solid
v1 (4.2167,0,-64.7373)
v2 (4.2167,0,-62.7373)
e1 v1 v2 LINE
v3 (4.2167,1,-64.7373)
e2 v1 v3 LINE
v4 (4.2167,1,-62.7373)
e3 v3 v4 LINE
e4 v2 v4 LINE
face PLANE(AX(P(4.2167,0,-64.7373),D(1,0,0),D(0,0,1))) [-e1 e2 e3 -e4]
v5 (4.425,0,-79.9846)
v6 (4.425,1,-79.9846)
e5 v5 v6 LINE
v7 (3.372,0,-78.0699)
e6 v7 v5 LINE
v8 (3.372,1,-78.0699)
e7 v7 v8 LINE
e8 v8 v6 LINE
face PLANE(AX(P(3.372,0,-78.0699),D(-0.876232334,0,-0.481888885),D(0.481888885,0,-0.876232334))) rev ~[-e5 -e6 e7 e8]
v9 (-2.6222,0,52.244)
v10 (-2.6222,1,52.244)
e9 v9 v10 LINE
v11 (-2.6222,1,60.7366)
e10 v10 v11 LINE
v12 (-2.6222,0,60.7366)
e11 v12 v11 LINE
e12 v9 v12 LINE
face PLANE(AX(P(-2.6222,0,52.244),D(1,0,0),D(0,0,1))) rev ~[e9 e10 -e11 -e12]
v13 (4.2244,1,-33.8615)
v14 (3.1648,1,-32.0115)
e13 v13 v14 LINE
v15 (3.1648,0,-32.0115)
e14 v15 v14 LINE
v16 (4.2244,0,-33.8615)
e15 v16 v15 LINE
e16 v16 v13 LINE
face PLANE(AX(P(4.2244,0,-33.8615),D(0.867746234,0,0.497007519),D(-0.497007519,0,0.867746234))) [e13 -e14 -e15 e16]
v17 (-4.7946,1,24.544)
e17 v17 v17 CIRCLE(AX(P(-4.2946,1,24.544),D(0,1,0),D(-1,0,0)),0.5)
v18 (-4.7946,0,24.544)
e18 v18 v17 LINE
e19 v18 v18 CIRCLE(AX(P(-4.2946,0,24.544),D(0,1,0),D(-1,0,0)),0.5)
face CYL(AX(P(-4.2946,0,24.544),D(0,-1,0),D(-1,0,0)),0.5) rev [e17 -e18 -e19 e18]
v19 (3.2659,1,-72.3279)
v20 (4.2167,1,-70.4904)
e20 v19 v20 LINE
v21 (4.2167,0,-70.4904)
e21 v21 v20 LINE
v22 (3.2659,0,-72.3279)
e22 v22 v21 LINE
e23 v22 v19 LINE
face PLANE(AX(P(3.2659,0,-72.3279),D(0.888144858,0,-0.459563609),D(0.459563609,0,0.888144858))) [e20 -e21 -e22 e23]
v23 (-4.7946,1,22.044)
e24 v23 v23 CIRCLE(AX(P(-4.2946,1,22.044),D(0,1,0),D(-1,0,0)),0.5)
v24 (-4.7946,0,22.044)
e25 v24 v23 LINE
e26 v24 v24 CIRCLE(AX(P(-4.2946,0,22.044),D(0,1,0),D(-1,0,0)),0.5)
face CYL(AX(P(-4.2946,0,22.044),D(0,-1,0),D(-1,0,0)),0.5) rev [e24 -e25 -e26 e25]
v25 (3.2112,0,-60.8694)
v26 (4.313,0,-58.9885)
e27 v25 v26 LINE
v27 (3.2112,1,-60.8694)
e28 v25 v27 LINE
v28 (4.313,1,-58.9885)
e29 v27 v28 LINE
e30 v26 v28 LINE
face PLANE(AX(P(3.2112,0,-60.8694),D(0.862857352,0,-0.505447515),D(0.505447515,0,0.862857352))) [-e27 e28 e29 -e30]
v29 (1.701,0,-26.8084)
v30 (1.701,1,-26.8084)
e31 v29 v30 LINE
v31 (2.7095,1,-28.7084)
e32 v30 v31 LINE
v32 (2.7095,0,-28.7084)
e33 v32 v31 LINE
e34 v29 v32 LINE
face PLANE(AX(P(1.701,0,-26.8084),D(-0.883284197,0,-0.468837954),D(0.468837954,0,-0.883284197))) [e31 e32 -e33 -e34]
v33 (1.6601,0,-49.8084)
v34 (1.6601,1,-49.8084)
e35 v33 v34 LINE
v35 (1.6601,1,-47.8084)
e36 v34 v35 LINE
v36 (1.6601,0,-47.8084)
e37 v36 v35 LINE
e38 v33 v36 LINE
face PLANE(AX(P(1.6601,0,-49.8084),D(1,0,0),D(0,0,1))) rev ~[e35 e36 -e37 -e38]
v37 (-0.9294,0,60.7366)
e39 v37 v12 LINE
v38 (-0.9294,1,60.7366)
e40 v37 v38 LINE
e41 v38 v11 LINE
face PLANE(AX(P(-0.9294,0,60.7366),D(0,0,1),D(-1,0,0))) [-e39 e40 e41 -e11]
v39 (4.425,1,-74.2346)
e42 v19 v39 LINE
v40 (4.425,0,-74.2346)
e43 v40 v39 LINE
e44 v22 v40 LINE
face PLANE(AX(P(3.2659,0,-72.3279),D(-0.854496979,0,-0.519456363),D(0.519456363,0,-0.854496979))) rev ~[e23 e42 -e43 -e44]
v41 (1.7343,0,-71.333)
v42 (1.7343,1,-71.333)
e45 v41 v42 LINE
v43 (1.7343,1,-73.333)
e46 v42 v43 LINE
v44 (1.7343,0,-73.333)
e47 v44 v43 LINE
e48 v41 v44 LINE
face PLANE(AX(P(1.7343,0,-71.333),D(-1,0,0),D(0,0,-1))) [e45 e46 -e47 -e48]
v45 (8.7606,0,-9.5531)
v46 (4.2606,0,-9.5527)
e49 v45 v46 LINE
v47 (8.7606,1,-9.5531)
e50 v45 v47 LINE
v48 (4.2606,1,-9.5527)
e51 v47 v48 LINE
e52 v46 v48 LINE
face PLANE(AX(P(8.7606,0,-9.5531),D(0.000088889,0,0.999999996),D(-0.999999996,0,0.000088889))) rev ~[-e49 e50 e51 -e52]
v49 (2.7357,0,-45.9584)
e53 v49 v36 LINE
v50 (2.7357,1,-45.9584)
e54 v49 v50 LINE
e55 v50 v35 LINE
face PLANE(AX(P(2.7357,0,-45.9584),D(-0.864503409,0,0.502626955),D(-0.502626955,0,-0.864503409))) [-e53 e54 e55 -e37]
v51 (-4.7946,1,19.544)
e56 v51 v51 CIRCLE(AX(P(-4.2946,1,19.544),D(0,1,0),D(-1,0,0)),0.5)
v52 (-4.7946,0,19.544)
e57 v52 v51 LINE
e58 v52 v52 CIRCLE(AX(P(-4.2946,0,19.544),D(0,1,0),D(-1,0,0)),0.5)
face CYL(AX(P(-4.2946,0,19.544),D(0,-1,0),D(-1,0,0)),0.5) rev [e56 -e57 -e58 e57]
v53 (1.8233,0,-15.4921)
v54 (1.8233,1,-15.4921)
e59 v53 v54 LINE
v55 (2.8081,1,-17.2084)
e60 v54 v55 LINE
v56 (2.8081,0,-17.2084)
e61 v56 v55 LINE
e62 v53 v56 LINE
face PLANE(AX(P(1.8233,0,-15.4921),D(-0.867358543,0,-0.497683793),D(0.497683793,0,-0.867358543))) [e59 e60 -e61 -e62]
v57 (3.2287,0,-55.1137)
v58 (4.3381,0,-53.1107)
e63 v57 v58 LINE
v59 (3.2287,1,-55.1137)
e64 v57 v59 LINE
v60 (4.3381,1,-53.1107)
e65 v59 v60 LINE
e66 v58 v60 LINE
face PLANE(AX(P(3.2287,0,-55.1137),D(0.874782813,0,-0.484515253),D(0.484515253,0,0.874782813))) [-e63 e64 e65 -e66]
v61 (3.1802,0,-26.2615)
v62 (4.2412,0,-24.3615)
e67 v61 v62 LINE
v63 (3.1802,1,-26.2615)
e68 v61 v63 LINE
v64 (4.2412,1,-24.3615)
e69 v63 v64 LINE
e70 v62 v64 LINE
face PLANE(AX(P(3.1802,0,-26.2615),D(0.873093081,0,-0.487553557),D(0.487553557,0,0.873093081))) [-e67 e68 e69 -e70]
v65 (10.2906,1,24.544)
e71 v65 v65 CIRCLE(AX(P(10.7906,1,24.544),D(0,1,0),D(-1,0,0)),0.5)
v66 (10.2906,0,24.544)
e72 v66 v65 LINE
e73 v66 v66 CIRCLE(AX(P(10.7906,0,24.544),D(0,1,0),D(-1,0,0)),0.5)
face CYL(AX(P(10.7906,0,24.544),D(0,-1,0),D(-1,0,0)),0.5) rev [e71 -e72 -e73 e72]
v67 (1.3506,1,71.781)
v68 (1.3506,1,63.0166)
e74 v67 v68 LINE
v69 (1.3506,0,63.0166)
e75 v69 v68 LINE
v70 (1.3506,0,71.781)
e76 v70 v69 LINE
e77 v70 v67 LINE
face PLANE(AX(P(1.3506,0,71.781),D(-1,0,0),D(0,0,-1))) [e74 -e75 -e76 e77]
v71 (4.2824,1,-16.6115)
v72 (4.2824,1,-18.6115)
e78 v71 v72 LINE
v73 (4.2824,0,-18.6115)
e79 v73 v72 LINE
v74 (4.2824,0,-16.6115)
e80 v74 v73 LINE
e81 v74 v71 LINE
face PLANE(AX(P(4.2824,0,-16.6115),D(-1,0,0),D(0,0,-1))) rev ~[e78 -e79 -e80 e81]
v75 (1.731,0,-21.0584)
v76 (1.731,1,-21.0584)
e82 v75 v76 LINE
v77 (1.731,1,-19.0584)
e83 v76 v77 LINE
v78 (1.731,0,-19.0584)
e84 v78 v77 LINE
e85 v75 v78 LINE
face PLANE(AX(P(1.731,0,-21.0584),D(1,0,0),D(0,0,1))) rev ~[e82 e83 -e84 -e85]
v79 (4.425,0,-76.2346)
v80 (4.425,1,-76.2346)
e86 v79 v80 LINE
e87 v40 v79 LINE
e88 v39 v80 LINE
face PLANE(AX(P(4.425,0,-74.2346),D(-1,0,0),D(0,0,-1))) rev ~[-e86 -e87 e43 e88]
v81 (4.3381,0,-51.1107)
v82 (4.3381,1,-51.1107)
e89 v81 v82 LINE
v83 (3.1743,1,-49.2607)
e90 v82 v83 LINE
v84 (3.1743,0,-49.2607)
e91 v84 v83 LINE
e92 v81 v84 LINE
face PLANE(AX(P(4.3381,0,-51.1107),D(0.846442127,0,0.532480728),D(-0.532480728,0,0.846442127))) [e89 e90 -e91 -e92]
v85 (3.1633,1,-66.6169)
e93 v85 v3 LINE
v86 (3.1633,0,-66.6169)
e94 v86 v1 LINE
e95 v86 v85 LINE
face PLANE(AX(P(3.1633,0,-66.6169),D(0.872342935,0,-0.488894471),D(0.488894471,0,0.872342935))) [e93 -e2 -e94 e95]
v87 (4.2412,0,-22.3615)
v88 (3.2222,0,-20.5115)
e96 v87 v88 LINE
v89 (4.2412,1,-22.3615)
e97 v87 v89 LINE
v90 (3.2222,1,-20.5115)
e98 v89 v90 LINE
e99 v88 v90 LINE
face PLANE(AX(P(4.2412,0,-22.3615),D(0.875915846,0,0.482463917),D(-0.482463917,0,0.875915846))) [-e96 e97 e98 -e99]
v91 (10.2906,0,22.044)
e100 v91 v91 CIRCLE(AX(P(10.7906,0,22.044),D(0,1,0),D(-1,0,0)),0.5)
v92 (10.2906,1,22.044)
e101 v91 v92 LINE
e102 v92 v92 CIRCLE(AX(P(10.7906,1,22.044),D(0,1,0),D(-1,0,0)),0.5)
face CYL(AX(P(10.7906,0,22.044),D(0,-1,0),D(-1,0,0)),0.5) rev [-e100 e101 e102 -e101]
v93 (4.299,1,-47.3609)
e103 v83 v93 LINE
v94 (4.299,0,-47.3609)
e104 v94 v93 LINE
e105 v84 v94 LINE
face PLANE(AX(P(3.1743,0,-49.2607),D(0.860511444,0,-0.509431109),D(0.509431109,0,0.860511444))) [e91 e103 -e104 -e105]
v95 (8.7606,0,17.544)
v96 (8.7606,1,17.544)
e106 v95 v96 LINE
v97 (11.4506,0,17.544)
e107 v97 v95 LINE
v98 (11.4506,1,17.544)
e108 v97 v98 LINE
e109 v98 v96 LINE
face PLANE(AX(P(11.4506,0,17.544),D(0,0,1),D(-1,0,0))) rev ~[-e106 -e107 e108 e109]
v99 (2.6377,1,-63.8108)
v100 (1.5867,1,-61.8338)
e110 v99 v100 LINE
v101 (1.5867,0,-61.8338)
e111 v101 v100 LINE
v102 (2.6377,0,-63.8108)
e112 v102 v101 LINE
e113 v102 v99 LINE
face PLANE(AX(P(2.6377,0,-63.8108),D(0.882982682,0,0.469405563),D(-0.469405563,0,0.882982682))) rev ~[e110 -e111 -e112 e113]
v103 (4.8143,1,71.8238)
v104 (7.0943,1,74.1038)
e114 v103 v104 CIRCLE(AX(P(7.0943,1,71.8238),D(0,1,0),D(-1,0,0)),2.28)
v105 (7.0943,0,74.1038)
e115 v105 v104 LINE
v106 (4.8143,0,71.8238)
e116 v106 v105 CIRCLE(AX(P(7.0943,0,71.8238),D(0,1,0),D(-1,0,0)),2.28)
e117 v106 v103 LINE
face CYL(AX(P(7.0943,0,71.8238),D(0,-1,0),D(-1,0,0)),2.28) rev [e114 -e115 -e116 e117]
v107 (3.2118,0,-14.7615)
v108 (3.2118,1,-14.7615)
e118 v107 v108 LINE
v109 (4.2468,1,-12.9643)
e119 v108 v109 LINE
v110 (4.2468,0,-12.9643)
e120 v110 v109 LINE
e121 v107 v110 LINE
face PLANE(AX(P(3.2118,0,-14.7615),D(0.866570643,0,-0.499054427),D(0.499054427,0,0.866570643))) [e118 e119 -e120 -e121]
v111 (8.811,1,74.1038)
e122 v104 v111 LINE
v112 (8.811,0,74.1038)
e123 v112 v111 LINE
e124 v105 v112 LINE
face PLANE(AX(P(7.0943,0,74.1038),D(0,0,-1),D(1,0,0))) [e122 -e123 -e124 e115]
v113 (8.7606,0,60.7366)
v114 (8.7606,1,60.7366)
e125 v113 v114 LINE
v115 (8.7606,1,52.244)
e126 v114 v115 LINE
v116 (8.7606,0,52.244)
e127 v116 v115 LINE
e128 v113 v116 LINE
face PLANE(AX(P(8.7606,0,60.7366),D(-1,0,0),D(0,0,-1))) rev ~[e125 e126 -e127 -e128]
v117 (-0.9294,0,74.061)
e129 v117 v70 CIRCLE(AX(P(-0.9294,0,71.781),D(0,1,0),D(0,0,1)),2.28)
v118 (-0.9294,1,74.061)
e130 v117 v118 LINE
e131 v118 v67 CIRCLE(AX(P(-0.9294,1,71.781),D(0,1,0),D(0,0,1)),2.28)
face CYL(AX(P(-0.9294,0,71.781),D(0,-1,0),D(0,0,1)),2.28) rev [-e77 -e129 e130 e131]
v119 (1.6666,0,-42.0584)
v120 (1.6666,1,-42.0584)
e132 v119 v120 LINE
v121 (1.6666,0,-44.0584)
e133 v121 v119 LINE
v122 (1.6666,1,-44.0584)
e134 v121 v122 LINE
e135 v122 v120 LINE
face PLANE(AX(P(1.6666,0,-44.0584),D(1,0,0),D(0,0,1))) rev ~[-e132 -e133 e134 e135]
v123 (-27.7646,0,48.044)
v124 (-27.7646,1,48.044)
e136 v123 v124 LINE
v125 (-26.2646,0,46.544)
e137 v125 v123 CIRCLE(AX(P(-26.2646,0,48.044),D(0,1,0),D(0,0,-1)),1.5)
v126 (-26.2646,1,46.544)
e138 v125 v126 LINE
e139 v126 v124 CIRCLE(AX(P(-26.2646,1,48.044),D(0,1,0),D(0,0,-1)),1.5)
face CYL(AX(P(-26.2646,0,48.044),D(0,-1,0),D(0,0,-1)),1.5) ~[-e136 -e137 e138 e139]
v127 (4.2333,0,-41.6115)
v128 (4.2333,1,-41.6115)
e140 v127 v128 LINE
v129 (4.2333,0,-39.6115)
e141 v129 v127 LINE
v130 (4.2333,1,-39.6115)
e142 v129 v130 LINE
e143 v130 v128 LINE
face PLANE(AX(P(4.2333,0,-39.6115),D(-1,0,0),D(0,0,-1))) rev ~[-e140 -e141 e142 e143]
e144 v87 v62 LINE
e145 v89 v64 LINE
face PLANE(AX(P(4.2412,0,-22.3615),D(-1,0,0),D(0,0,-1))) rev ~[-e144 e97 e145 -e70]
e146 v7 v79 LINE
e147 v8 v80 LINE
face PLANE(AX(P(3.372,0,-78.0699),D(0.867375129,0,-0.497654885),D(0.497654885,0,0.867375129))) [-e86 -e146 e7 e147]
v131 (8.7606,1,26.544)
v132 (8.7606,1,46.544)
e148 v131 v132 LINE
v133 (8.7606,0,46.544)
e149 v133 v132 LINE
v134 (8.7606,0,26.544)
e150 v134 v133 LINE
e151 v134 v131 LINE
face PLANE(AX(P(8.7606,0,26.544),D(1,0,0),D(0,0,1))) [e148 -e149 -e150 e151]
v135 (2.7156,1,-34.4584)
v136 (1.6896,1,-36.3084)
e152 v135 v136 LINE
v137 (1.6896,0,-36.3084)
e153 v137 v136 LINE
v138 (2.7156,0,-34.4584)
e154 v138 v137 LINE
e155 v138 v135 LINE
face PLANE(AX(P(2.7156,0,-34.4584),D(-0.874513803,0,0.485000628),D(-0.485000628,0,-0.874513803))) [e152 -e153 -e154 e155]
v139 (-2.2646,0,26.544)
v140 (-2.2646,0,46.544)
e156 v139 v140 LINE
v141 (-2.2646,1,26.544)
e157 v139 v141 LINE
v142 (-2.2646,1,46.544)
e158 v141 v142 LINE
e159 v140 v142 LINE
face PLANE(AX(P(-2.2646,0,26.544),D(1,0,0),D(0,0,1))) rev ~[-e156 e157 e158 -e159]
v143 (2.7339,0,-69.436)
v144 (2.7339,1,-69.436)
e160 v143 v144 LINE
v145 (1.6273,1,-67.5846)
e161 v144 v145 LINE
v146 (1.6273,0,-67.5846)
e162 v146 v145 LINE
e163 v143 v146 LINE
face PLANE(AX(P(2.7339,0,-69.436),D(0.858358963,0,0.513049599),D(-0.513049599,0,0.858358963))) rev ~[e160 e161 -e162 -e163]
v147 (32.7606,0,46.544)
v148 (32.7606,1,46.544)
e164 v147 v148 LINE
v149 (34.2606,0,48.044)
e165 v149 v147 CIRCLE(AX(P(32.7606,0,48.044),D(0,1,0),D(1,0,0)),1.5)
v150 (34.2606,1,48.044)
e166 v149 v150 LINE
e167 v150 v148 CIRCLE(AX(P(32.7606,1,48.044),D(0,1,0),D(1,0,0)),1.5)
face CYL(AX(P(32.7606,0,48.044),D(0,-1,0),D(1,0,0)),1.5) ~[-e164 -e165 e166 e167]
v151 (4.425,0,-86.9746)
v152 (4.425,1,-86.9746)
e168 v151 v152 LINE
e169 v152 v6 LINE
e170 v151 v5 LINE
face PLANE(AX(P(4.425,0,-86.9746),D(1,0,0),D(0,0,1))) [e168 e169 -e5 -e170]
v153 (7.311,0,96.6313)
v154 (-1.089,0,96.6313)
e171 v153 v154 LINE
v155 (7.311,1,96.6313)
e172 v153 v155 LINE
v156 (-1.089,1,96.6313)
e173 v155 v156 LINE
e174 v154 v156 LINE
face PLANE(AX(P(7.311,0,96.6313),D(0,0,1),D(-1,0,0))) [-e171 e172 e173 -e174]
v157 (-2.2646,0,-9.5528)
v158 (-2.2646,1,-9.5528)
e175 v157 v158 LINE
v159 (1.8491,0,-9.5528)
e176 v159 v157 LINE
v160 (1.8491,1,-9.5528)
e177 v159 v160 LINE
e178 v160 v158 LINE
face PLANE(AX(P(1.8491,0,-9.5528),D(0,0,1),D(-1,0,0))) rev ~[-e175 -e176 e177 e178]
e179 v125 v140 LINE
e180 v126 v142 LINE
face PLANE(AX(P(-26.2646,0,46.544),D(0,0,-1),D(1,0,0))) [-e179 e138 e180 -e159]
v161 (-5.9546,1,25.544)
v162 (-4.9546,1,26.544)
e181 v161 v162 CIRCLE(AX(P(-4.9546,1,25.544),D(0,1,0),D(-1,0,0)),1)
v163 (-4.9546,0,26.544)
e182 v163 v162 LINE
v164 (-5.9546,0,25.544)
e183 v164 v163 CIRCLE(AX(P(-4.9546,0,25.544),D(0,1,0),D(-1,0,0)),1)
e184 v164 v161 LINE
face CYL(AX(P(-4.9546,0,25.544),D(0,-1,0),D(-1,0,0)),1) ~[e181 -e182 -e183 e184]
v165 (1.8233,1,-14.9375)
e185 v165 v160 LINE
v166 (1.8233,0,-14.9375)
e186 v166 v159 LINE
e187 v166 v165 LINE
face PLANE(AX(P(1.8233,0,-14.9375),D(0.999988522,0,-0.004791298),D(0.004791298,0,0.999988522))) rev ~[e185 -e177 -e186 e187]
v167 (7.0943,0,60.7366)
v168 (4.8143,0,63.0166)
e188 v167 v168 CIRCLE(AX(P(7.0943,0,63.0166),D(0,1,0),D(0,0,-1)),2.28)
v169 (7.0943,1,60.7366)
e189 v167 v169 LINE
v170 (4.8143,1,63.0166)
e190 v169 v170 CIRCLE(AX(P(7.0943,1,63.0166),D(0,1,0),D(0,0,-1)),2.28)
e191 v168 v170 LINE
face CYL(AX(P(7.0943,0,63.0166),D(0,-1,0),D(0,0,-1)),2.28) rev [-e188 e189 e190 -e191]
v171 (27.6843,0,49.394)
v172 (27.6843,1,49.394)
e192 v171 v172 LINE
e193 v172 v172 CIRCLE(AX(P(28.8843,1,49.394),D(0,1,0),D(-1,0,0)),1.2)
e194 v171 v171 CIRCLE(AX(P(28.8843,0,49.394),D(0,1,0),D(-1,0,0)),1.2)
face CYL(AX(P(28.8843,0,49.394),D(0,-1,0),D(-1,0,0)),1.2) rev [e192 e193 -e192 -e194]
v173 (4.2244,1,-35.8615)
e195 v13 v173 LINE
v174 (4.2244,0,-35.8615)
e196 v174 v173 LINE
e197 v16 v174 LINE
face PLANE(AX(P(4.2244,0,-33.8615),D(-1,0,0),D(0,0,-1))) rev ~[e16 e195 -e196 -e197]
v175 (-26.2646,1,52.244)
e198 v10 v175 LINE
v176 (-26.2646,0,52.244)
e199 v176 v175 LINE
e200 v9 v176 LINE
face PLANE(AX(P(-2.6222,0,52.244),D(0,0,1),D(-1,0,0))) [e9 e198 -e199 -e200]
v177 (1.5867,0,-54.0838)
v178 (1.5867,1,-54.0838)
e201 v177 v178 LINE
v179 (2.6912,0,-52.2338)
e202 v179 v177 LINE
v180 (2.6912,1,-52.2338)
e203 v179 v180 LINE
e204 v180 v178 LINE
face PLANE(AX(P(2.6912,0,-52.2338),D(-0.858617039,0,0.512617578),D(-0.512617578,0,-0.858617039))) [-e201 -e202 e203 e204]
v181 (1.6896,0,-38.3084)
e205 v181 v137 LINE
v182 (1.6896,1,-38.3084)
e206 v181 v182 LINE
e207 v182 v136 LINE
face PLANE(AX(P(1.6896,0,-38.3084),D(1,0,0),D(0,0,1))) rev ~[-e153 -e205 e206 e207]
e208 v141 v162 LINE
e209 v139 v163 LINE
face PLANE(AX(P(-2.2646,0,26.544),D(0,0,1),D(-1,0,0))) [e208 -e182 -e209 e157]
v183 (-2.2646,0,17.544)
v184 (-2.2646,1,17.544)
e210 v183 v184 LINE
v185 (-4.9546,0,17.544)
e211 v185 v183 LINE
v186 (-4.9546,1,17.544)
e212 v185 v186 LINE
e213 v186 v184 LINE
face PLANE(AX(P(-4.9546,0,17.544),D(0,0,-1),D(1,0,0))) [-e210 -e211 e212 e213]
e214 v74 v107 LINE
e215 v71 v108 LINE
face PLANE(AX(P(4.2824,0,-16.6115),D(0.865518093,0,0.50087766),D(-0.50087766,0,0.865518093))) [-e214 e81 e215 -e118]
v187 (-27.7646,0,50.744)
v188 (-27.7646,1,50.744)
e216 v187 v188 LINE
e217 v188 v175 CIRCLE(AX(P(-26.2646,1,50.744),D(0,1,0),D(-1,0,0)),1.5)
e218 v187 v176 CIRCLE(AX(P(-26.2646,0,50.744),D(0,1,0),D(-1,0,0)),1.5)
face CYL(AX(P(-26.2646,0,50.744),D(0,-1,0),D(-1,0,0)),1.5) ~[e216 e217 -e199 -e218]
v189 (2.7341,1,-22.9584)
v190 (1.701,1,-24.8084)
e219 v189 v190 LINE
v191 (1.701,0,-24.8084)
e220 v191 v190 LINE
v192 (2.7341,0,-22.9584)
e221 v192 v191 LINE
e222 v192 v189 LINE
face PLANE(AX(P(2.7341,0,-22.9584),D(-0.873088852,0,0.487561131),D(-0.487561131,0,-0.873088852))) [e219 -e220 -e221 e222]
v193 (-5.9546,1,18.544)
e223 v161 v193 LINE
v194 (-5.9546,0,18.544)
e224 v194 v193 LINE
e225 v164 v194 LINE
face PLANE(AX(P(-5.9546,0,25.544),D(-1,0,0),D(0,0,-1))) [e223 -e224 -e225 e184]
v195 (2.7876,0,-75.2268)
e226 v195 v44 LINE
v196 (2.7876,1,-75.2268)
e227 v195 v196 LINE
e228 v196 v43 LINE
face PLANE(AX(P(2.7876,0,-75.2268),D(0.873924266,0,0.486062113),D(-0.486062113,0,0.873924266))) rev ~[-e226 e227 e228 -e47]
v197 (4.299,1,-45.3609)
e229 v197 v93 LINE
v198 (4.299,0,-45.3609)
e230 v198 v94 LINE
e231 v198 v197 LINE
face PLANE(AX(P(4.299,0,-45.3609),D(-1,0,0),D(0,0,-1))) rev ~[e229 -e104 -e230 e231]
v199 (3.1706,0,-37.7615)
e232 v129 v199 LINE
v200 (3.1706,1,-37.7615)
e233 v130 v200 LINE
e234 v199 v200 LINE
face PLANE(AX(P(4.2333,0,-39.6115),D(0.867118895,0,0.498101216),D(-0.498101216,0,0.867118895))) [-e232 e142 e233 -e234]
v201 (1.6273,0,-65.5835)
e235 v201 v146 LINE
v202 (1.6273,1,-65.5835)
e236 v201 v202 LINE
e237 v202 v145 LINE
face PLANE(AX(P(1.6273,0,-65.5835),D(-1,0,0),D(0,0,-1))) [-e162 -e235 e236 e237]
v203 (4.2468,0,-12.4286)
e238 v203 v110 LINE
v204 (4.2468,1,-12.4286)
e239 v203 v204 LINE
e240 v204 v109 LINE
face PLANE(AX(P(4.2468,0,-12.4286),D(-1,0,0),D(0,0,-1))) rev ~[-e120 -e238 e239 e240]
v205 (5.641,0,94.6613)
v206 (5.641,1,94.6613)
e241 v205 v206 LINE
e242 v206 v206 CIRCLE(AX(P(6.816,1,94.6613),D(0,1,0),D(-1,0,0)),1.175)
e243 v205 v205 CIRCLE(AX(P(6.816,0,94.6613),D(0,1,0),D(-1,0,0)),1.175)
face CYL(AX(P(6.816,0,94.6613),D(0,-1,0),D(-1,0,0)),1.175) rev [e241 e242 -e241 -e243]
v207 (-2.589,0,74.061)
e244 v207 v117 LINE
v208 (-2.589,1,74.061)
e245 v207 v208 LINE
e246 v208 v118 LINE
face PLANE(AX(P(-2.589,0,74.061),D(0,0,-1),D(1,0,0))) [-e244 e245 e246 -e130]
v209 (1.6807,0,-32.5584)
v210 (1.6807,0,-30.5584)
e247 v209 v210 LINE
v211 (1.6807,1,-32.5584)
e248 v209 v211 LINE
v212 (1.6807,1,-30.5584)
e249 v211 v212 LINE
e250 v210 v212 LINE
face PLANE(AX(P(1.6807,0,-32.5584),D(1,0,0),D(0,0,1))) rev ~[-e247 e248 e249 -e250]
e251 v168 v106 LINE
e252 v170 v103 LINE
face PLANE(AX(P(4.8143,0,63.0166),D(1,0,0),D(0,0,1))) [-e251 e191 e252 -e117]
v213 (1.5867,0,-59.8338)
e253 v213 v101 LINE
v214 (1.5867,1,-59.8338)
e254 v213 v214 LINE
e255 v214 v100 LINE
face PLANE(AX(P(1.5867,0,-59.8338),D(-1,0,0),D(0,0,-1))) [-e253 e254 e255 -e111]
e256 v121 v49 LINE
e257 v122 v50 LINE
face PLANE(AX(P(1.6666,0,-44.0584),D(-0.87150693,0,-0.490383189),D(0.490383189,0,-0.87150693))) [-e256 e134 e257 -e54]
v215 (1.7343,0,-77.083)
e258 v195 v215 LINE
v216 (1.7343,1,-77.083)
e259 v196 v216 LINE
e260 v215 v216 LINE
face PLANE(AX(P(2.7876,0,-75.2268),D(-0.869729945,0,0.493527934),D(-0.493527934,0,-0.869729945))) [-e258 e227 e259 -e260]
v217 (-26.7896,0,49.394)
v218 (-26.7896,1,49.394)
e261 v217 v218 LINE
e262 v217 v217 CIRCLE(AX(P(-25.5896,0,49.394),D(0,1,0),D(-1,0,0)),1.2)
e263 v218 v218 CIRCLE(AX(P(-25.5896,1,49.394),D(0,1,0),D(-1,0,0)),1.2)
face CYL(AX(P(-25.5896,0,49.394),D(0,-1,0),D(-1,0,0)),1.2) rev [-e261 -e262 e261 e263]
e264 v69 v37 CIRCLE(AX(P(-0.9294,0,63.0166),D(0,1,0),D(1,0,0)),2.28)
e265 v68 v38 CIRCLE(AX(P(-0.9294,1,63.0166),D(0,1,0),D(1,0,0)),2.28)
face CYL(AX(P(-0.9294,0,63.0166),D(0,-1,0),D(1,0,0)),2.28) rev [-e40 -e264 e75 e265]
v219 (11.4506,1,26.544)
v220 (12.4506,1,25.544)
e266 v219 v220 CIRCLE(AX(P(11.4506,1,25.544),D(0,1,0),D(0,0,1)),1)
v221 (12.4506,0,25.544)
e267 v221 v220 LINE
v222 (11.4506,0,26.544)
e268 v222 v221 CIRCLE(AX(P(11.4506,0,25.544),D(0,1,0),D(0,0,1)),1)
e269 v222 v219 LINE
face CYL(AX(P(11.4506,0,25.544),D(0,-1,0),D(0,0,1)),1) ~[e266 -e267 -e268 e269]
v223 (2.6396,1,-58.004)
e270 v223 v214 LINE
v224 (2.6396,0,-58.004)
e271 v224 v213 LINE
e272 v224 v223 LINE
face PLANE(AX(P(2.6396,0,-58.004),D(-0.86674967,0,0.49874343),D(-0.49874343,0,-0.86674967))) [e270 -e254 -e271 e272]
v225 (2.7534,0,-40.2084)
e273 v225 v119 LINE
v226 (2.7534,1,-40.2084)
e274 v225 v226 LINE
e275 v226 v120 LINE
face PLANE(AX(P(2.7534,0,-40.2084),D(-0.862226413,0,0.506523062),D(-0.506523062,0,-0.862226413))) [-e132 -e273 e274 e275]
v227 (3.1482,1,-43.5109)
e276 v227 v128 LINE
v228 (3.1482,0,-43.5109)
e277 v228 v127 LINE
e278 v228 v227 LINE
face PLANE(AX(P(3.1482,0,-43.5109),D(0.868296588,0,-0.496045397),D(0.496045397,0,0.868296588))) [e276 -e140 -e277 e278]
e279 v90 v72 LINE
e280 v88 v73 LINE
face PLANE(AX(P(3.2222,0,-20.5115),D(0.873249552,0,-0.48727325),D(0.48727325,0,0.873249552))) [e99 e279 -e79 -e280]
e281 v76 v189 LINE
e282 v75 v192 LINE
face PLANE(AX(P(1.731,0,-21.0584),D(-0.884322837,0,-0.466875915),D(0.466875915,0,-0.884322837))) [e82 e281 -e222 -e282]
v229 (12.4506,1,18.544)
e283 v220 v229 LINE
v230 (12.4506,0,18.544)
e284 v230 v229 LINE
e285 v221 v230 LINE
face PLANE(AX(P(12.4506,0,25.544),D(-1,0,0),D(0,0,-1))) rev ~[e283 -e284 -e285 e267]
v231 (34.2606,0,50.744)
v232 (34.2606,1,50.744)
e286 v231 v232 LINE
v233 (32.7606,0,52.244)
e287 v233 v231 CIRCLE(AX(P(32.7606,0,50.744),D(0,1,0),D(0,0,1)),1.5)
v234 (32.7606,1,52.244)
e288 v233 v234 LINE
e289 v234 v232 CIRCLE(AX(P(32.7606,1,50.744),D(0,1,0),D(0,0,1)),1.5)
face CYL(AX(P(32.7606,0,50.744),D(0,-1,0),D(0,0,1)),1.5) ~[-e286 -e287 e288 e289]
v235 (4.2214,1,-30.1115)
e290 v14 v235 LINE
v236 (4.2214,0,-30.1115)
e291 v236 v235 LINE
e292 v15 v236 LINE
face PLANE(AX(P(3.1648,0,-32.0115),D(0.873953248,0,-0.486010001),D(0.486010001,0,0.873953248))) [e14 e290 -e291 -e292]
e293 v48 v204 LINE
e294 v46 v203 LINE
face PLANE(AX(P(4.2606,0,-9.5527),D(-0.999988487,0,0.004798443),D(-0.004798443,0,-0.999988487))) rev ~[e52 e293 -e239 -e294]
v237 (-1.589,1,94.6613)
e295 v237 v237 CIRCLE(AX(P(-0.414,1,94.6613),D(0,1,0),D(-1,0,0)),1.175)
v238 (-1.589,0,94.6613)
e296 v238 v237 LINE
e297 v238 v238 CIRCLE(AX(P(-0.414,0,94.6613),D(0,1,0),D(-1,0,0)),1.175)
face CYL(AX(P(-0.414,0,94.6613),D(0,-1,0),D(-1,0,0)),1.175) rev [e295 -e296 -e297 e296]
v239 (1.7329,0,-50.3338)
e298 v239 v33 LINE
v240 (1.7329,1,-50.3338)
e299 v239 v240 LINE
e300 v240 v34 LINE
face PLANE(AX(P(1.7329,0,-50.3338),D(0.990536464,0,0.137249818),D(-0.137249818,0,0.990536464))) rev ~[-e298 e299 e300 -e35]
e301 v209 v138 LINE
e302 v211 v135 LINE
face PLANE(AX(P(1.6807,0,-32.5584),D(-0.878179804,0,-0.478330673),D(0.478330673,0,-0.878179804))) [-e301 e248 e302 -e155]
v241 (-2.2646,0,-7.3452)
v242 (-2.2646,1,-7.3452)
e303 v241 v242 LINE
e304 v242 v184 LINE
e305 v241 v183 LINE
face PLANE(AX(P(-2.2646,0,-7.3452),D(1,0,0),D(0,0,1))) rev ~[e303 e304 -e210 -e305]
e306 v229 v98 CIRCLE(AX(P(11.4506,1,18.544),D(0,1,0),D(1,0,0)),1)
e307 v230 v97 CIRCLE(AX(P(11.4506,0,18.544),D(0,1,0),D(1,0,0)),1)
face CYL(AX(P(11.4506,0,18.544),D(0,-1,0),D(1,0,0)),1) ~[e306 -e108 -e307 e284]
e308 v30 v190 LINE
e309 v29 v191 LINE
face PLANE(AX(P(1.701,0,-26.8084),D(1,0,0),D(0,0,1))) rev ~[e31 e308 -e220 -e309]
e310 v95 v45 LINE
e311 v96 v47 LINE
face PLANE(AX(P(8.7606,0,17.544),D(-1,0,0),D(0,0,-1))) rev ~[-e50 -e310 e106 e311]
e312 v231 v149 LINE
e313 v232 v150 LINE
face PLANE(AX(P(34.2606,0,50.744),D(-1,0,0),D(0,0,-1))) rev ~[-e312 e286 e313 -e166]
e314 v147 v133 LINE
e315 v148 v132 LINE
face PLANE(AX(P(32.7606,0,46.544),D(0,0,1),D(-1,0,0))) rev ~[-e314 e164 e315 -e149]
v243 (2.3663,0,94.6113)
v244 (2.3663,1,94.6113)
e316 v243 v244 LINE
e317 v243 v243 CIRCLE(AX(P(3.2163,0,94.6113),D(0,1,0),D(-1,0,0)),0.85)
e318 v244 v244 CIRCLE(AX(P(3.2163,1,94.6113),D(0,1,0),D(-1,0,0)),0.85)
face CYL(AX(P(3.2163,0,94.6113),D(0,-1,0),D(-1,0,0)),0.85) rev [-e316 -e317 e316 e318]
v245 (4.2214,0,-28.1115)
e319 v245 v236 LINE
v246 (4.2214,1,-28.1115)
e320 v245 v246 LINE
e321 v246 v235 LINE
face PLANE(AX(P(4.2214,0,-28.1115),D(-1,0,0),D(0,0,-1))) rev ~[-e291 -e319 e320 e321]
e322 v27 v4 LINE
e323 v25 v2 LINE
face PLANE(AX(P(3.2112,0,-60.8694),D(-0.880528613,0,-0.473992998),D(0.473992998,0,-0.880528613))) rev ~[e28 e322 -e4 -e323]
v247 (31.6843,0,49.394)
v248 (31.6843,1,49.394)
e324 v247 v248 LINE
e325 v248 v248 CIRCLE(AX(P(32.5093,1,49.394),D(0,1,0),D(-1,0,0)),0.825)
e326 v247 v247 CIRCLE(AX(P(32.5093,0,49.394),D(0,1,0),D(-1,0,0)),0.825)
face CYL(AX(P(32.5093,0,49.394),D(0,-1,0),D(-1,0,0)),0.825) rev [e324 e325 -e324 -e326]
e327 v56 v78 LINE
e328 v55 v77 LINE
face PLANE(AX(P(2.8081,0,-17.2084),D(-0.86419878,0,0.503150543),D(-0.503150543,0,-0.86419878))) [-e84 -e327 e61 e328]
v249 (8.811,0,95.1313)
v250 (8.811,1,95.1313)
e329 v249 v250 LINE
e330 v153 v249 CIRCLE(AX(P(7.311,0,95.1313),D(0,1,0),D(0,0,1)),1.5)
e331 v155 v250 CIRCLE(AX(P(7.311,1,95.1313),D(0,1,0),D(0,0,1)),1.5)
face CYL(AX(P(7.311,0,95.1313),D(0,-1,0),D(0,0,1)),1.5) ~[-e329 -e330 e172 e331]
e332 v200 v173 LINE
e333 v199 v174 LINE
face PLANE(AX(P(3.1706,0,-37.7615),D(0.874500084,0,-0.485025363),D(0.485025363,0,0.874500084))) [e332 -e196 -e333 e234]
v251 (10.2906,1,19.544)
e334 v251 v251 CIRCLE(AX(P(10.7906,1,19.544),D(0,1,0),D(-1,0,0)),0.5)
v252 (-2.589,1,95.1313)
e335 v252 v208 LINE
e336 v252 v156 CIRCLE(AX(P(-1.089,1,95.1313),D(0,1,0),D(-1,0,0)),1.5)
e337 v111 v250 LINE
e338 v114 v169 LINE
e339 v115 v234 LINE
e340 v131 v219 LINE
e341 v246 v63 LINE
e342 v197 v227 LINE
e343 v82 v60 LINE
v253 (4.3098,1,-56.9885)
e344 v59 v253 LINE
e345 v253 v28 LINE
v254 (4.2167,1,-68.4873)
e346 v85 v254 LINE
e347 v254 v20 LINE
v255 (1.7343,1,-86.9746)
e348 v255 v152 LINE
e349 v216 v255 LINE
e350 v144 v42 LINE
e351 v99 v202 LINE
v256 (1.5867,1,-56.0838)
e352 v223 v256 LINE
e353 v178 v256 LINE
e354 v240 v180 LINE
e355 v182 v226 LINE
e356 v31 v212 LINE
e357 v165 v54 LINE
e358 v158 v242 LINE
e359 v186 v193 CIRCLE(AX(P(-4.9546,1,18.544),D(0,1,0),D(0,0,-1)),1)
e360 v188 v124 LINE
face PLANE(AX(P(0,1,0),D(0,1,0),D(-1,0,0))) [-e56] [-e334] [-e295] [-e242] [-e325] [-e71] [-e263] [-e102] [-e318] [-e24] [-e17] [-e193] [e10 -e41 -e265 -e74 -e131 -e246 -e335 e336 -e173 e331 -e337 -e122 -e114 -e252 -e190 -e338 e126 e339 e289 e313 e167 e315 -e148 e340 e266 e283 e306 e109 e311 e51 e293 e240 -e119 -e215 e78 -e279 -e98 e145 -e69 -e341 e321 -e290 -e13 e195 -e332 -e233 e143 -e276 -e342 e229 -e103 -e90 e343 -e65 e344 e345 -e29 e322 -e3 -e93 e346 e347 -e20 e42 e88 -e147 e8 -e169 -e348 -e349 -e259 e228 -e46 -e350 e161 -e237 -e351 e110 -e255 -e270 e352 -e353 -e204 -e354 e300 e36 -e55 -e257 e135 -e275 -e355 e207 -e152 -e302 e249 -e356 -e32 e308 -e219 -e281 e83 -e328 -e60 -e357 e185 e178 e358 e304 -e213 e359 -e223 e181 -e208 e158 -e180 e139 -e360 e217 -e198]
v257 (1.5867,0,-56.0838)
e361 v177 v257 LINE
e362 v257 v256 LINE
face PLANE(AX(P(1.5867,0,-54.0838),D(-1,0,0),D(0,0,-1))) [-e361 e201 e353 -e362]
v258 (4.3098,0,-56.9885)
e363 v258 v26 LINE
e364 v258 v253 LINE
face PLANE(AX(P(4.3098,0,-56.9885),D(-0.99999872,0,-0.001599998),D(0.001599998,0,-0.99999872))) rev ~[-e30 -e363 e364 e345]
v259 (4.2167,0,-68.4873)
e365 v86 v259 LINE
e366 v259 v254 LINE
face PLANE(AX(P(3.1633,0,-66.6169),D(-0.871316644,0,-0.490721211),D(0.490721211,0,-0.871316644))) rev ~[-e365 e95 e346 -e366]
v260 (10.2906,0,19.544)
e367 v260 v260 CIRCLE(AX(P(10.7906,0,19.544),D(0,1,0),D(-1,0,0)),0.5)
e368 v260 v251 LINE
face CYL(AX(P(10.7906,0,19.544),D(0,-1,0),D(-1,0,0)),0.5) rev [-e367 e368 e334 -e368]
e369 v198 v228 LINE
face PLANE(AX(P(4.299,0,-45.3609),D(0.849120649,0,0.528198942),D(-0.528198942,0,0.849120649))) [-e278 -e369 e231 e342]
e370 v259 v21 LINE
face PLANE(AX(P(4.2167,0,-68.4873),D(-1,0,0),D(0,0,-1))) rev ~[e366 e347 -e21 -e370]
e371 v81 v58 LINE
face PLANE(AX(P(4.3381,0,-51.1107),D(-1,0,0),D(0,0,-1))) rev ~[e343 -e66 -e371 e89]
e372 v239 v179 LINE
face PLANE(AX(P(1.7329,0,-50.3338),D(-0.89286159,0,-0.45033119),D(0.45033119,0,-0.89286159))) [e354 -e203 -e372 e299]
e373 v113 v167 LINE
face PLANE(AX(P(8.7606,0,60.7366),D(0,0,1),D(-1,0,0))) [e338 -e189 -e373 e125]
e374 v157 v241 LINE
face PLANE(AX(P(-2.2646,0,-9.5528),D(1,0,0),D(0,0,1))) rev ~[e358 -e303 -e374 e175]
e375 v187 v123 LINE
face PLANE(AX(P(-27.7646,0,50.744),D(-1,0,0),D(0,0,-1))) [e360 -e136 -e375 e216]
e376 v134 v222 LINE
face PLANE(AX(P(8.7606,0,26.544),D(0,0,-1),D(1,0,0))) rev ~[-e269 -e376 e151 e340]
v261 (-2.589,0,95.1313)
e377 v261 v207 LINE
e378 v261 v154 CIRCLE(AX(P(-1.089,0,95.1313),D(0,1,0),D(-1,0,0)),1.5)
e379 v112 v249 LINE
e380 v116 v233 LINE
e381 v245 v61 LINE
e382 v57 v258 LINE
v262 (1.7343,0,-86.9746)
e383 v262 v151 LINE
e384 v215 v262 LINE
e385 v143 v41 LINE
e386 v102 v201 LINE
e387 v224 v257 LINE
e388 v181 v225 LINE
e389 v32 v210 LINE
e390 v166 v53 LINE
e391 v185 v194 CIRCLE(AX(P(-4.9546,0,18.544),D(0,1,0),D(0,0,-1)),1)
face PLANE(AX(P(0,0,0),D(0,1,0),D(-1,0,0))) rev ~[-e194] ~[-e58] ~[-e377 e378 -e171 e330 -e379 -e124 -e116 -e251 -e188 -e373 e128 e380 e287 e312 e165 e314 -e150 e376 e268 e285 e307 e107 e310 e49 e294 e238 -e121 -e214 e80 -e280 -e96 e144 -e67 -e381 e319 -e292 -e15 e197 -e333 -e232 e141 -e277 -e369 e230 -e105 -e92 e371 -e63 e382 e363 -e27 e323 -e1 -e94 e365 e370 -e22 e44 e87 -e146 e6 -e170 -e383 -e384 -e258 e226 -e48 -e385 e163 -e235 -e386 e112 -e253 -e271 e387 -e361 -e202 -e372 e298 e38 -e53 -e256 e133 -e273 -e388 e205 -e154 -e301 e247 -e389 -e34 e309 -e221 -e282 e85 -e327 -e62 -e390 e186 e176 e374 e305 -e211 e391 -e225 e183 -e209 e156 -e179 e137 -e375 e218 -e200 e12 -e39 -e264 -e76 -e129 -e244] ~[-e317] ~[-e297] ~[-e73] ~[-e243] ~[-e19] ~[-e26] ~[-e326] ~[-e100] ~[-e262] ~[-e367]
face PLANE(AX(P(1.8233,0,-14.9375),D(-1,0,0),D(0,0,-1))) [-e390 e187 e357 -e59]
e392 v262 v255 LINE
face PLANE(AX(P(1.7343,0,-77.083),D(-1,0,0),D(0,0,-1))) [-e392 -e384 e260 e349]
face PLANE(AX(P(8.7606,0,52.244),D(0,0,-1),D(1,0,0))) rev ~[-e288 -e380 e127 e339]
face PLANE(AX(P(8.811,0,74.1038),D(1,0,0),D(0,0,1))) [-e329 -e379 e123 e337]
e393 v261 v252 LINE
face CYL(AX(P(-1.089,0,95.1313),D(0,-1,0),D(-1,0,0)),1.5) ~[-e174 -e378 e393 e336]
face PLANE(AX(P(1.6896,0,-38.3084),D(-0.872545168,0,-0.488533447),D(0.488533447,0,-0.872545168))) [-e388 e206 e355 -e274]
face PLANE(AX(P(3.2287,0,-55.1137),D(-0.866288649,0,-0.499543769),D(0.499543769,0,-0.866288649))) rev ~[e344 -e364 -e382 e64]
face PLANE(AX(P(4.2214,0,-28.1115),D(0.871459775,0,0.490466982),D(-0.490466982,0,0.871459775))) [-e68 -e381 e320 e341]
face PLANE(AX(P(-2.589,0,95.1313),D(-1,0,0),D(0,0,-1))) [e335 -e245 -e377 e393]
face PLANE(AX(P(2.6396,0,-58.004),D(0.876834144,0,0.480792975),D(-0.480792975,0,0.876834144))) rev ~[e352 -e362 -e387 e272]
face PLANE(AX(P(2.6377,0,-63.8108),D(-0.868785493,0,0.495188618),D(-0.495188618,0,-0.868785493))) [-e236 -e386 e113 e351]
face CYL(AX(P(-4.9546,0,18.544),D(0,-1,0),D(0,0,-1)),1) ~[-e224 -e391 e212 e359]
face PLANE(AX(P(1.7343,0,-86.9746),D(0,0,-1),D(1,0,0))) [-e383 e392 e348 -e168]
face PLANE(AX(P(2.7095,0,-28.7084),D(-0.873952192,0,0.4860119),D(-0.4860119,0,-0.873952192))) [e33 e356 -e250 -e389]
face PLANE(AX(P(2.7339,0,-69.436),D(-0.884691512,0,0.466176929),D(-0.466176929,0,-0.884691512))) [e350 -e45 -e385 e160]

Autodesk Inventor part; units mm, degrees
ref_plane "YZ Plane" through (0, 0, 0) normal (1, 0, 0) x (0, 1, 0)
ref_plane "XZ Plane" through (0, 0, 0) normal (0, 1, 0) x (-1, 0, 0)
ref_plane "XY Plane" through (0, 0, 0) normal (0, 0, 1) x (1, 0, 0)
sketch "Sketch1" plane through (0, 0, 0) normal (0, 1, 0) x (-1, 0, 0)
  line L0 (-8.7606, 60.7366) -> (-8.7606, 52.244)
  line L1 (2.2646, -7.3452) -> (2.2646, 17.544)
  line L2 (-8.811, 74.1038) -> (-8.811, 95.1313)
  line L3 (-7.311, 96.6313) -> (1.089, 96.6313)
  line L4 (2.589, 95.1313) -> (2.589, 74.061)
  circle A0 centre (0.414, 94.6613) radius 1.175
  circle A1 centre (-6.816, 94.6613) radius 1.175
  line L5 (-8.7606, 60.7366) -> (-7.0943, 60.7366)
  line L6 (-4.8143, 63.0166) -> (-4.8143, 71.8238)
  line L7 (-7.0943, 74.1038) -> (-8.811, 74.1038)
  line L8 (2.589, 74.061) -> (0.9294, 74.061)
  line L9 (-1.3506, 71.781) -> (-1.3506, 63.0166)
  line L10 (0.9294, 60.7366) -> (2.6222, 60.7366)
  arc A2 (0.9294, 74.061) -> (-1.3506, 71.781) centre (0.9294, 71.781) ccw
  arc A3 (-1.3506, 63.0166) -> (0.9294, 60.7366) centre (0.9294, 63.0166) ccw
  arc A4 (-7.0943, 60.7366) -> (-4.8143, 63.0166) centre (-7.0943, 63.0166) ccw
  arc A5 (-4.8143, 71.8238) -> (-7.0943, 74.1038) centre (-7.0943, 71.8238) ccw
  line L11 (2.6222, 52.244) -> (26.2646, 52.244)
  line L12 (27.7646, 50.744) -> (27.7646, 48.044)
  line L13 (26.2646, 46.544) -> (2.2646, 46.544)
  line L14 (-8.7606, 52.244) -> (-32.7606, 52.244)
  line L15 (-34.2606, 50.744) -> (-34.2606, 48.044)
  line L16 (-32.7606, 46.544) -> (-8.7606, 46.544)
  line L17 (2.2646, 26.544) -> (4.9546, 26.544)
  line L18 (5.9546, 25.544) -> (5.9546, 18.544)
  line L19 (4.9546, 17.544) -> (2.2646, 17.544)
  line L20 (-8.7606, 26.544) -> (-11.4506, 26.544)
  line L21 (-12.4506, 25.544) -> (-12.4506, 18.544)
  line L22 (-11.4506, 17.544) -> (-8.7606, 17.544)
  circle A6 centre (-3.2163, 94.6113) radius 0.85
  circle A7 centre (-28.8843, 49.394) radius 1.2
  circle A8 centre (-32.5093, 49.394) radius 0.825
  circle A9 centre (25.5896, 49.394) radius 1.2
  line L23 (2.6222, 52.244) -> (2.6222, 60.7366)
  line L24 (-8.7606, 17.544) -> (-8.7606, -9.5531)
  arc A10 (2.589, 95.1313) -> (1.089, 96.6313) centre (1.089, 95.1313) ccw
  arc A11 (-7.311, 96.6313) -> (-8.811, 95.1313) centre (-7.311, 95.1313) ccw
  arc A12 (26.2646, 46.544) -> (27.7646, 48.044) centre (26.2646, 48.044) ccw
  arc A13 (27.7646, 50.744) -> (26.2646, 52.244) centre (26.2646, 50.744) ccw
  arc A14 (-34.2606, 48.044) -> (-32.7606, 46.544) centre (-32.7606, 48.044) ccw
  arc A15 (-32.7606, 52.244) -> (-34.2606, 50.744) centre (-32.7606, 50.744) ccw
  line L25 (-4.2606, -9.5527) -> (-4.2468, -12.4286)
  line L26 (-1.8233, -14.9375) -> (-1.8491, -9.5528)
  line L27 (-8.7606, -9.5531) -> (-4.2606, -9.5528)
  line L28 (-4.2167, -68.4873) -> (-4.2167, -70.4904)
  line L29 (-2.7339, -69.436) -> (-1.6273, -67.5846)
  line L30 (-3.1633, -66.6169) -> (-4.2167, -68.4873)
  line L31 (-1.6273, -65.5835) -> (-1.6273, -67.5846)
  line L32 (-3.1633, -66.6169) -> (-4.2167, -64.7373)
  line L33 (-2.6377, -63.8108) -> (-1.6273, -65.5835)
  line L34 (-4.2167, -64.7373) -> (-4.2167, -62.7373)
  line L35 (-1.701, -26.8084) -> (-2.7095, -28.7084)
  line L36 (-4.2214, -28.1115) -> (-4.2214, -30.1115)
  line L37 (-2.7095, -28.7084) -> (-1.6807, -30.5584)
  line L38 (-1.6807, -32.5584) -> (-1.6807, -30.5584)
  line L39 (-3.1648, -32.0115) -> (-4.2214, -30.1115)
  line L40 (-1.6896, -38.3084) -> (-2.7534, -40.2084)
  line L41 (-2.7534, -40.2084) -> (-1.6666, -42.0584)
  line L42 (-3.1482, -43.5109) -> (-4.2333, -41.6115)
  line L43 (-1.6666, -44.0584) -> (-1.6666, -42.0584)
  line L44 (-1.6666, -44.0584) -> (-2.7357, -45.9584)
  line L45 (-4.299, -45.3609) -> (-3.1482, -43.5109)
  line L46 (-4.2333, -39.6115) -> (-4.2333, -41.6115)
  line L47 (-4.2333, -39.6115) -> (-3.1706, -37.7615)
  line L48 (-1.6896, -38.3084) -> (-1.6896, -36.3084)
  line L49 (-3.1706, -37.7615) -> (-4.2244, -35.8615)
  line L50 (-2.7156, -34.4584) -> (-1.6896, -36.3084)
  line L51 (-4.2244, -33.8615) -> (-4.2244, -35.8615)
  line L52 (-3.2118, -14.7615) -> (-0.6911, -14.7642) construction
  line L53 (-4.2824, -16.6115) -> (-3.2118, -14.7615)
  line L54 (-4.2824, -16.6115) -> (-4.2824, -18.6115)
  line L55 (-2.8081, -17.2084) -> (-1.731, -19.0584)
  line L56 (-3.2222, -20.5115) -> (-4.2824, -18.6115)
  line L57 (-1.731, -21.0584) -> (-1.731, -19.0584)
  line L58 (-3.2118, -14.7615) -> (-4.2468, -12.9643)
  line L59 (-4.2214, -28.1115) -> (-3.1802, -26.2615)
  line L60 (-1.701, -26.8084) -> (-1.701, -24.8084)
  line L61 (-3.1802, -26.2615) -> (-4.2412, -24.3615)
  line L62 (-2.7341, -22.9584) -> (-1.701, -24.8084)
  line L63 (-4.2412, -22.3615) -> (-4.2412, -24.3615)
  line L64 (-4.2412, -22.3615) -> (-3.2222, -20.5115)
  line L65 (-1.731, -21.0584) -> (-2.7341, -22.9584)
  line L66 (-3.1743, -49.2607) -> (-4.299, -47.3609)
  line L67 (-4.3381, -51.1107) -> (-3.1743, -49.2607)
  line L68 (-2.6912, -52.2338) -> (-1.5867, -54.0838)
  line L69 (-4.3381, -51.1107) -> (-4.3381, -53.1107)
  line L70 (-1.7329, -50.3338) -> (-2.6912, -52.2338)
  line L71 (-1.7329, -50.3338) -> (-1.6601, -49.8084)
  line L72 (-1.6601, -49.8084) -> (-1.6601, -47.8084)
  line L73 (-2.7357, -45.9584) -> (-1.6601, -47.8084)
  line L74 (-4.299, -45.3609) -> (-4.299, -47.3609)
  line L75 (-1.6807, -32.5584) -> (-2.7156, -34.4584)
  line L76 (-4.2244, -33.8615) -> (-3.1648, -32.0115)
  line L77 (-2.7339, -69.436) -> (-1.7343, -71.333)
  line L78 (-3.2659, -72.3279) -> (-4.2167, -70.4904)
  line L79 (-1.7343, -71.333) -> (-1.7343, -73.333)
  line L80 (-3.2659, -72.3279) -> (-4.425, -74.2346)
  line L81 (-2.7876, -75.2268) -> (-1.7343, -73.333)
  line L82 (-2.7876, -75.2268) -> (-1.7343, -77.083)
  line L83 (-4.425, -74.2346) -> (-4.425, -76.2346)
  line L84 (-3.2287, -55.1137) -> (-4.3381, -53.1107)
  line L85 (-1.5867, -54.0838) -> (-1.5867, -56.0838)
  line L86 (-3.2287, -55.1137) -> (-4.3098, -56.9885)
  line L87 (-2.6396, -58.004) -> (-1.5867, -56.0838)
  line L88 (-4.3098, -56.9885) -> (-4.313, -58.9885)
  line L89 (-2.6396, -58.004) -> (-1.5867, -59.8338)
  line L90 (-3.2112, -60.8694) -> (-4.313, -58.9885)
  line L91 (-3.2112, -60.8694) -> (-4.2167, -62.7373)
  line L92 (-2.6377, -63.8108) -> (-1.5867, -61.8338)
  line L93 (-1.5867, -59.8338) -> (-1.5867, -61.8338)
  line L94 (-3.372, -78.0699) -> (-4.425, -79.9846)
  line L95 (-3.372, -78.0699) -> (-4.425, -76.2346)
  line L96 (-4.425, -86.9746) -> (-4.425, -79.9846)
  line L97 (-1.7343, -86.9746) -> (-4.425, -86.9746)
  line L98 (-1.7343, -77.083) -> (-1.7343, -86.9746)
  line L99 (-1.8233, -14.9375) -> (-1.8233, -15.4921)
  line L100 (-1.8233, -15.4921) -> (-2.8081, -17.2084)
  line L101 (-4.2468, -12.4286) -> (-4.2468, -12.9643)
  line L102 (-1.8491, -9.5528) -> (2.2646, -9.5528)
  line L103 (2.2646, -9.5528) -> (2.2646, -7.3452)
  line L104 (2.2646, 26.544) -> (2.2646, 46.544)
  line L105 (-8.7606, 26.544) -> (-8.7606, 46.544)
  circle A16 centre (4.2946, 22.044) radius 0.5
  circle A17 centre (4.2946, 19.544) radius 0.5
  circle A18 centre (4.2946, 24.544) radius 0.5
  circle A19 centre (-10.7906, 22.044) radius 0.5
  circle A20 centre (-10.7906, 19.544) radius 0.5
  circle A21 centre (-10.7906, 24.544) radius 0.5
  arc A22 (4.9546, 17.544) -> (5.9546, 18.544) centre (4.9546, 18.544) ccw
  arc A23 (5.9546, 25.544) -> (4.9546, 26.544) centre (4.9546, 25.544) ccw
  arc A24 (-11.4506, 26.544) -> (-12.4506, 25.544) centre (-11.4506, 25.544) ccw
  arc A25 (-12.4506, 18.544) -> (-11.4506, 17.544) centre (-11.4506, 18.544) ccw
  point P0 (-8.811, 96.6313)
  point P1 (2.589, 96.6313)
  point P2 (-6.9279, 18.3671)
  point P3 (0.6606, 18.3671)
  point P4 (-6.9323, 25.0551)
  point P5 (27.7646, 46.544)
  point P6 (27.7646, 52.244)
  point P7 (-34.2606, 46.544)
  point P8 (-34.2606, 52.244)
  point P9 (2.2646, 46.9721)
  point P10 (-8.7606, 35.0882)
  point P11 (5.9546, 17.544)
  point P12 (5.9546, 26.544)
  point P13 (-12.4506, 17.544)
  point P14 (-12.4506, 26.544)
  point P15 (-3.6908, -42.5612)
  point P16 (-3.7523, -19.5615)
  point P17 (-3.7317, -21.4365)
  point P18 (-3.7367, -48.3108)
  point P19 (-2.139, -53.1588)
  point P20 (2.6394, 52.7)
  point P21 (-8.7606, 56.4903)
  point P22 (3.6096, 26.544)
  dimension "d276" = 2.4
  dimension "d277" = 2.4
  dimension "d280" = 1.5
  dimension "d281" = 2.35
  dimension "d282" = 2.35
  dimension "d284" = 1.65
  dimension "d286" = 1.7
  dimension "d288" = 0.795
  dimension "d289" = 0.795
  dimension "d290" = 1.17
  dimension "d291" = 1.6
  dimension "d292" = 1.575
  dimension "d293" = 1.5
  dimension "d294" = 1.5
  dimension "d296" = 0.975
  dimension "d297" = 2.175
  dimension "d312" = 0.9263
  dimension "d313" = 120
  dimension "d315" = 2
  dimension "d316" = 2
  dimension "d317" = 2
  dimension "d318" = 2
  dimension "d319" = 2
  dimension "d320" = 2
  dimension "d321" = 2
  dimension "d322" = 2
  dimension "d323" = 2
  dimension "d324" = 2
  dimension "d325" = 2
  dimension "d326" = 2
  dimension "d327" = 2
  dimension "d328" = 2
  dimension "d329" = 2
  dimension "d330" = 2.0032
  dimension "d331" = 2
  dimension "d332" = 2
  dimension "d333" = 3.75
  dimension "d334" = 3.75
  dimension "d335" = 3.75
  dimension "d336" = 3.75
  dimension "d337" = 3.75
  dimension "d338" = 3.75
  dimension "d339" = 3.75
  dimension "d340" = 3.75
  dimension "d341" = 3.75
  dimension "d342" = 3.75
  dimension "d343" = 3.75
  dimension "d344" = 3.75
  dimension "d347" = 1.85
  dimension "d348" = 1.85
  dimension "d349" = 1.85
  dimension "d350" = 1.85
  dimension "d351" = 1.85
  dimension "d352" = 1.85
  dimension "d353" = 1.85
  dimension "d354" = 1.85
  dimension "d355" = 1.85
  dimension "d356" = 1.85
  dimension "d357" = 1.85
  dimension "d358" = 1.85
  dimension "d359" = 1.85
  dimension "d360" = 1.85
  dimension "d361" = 3.75
  dimension "d362" = 121.346
extrude "Extrusion8" add sketch "Sketch1" along normal blind 1
properties part number "Thumb Finger Part"
